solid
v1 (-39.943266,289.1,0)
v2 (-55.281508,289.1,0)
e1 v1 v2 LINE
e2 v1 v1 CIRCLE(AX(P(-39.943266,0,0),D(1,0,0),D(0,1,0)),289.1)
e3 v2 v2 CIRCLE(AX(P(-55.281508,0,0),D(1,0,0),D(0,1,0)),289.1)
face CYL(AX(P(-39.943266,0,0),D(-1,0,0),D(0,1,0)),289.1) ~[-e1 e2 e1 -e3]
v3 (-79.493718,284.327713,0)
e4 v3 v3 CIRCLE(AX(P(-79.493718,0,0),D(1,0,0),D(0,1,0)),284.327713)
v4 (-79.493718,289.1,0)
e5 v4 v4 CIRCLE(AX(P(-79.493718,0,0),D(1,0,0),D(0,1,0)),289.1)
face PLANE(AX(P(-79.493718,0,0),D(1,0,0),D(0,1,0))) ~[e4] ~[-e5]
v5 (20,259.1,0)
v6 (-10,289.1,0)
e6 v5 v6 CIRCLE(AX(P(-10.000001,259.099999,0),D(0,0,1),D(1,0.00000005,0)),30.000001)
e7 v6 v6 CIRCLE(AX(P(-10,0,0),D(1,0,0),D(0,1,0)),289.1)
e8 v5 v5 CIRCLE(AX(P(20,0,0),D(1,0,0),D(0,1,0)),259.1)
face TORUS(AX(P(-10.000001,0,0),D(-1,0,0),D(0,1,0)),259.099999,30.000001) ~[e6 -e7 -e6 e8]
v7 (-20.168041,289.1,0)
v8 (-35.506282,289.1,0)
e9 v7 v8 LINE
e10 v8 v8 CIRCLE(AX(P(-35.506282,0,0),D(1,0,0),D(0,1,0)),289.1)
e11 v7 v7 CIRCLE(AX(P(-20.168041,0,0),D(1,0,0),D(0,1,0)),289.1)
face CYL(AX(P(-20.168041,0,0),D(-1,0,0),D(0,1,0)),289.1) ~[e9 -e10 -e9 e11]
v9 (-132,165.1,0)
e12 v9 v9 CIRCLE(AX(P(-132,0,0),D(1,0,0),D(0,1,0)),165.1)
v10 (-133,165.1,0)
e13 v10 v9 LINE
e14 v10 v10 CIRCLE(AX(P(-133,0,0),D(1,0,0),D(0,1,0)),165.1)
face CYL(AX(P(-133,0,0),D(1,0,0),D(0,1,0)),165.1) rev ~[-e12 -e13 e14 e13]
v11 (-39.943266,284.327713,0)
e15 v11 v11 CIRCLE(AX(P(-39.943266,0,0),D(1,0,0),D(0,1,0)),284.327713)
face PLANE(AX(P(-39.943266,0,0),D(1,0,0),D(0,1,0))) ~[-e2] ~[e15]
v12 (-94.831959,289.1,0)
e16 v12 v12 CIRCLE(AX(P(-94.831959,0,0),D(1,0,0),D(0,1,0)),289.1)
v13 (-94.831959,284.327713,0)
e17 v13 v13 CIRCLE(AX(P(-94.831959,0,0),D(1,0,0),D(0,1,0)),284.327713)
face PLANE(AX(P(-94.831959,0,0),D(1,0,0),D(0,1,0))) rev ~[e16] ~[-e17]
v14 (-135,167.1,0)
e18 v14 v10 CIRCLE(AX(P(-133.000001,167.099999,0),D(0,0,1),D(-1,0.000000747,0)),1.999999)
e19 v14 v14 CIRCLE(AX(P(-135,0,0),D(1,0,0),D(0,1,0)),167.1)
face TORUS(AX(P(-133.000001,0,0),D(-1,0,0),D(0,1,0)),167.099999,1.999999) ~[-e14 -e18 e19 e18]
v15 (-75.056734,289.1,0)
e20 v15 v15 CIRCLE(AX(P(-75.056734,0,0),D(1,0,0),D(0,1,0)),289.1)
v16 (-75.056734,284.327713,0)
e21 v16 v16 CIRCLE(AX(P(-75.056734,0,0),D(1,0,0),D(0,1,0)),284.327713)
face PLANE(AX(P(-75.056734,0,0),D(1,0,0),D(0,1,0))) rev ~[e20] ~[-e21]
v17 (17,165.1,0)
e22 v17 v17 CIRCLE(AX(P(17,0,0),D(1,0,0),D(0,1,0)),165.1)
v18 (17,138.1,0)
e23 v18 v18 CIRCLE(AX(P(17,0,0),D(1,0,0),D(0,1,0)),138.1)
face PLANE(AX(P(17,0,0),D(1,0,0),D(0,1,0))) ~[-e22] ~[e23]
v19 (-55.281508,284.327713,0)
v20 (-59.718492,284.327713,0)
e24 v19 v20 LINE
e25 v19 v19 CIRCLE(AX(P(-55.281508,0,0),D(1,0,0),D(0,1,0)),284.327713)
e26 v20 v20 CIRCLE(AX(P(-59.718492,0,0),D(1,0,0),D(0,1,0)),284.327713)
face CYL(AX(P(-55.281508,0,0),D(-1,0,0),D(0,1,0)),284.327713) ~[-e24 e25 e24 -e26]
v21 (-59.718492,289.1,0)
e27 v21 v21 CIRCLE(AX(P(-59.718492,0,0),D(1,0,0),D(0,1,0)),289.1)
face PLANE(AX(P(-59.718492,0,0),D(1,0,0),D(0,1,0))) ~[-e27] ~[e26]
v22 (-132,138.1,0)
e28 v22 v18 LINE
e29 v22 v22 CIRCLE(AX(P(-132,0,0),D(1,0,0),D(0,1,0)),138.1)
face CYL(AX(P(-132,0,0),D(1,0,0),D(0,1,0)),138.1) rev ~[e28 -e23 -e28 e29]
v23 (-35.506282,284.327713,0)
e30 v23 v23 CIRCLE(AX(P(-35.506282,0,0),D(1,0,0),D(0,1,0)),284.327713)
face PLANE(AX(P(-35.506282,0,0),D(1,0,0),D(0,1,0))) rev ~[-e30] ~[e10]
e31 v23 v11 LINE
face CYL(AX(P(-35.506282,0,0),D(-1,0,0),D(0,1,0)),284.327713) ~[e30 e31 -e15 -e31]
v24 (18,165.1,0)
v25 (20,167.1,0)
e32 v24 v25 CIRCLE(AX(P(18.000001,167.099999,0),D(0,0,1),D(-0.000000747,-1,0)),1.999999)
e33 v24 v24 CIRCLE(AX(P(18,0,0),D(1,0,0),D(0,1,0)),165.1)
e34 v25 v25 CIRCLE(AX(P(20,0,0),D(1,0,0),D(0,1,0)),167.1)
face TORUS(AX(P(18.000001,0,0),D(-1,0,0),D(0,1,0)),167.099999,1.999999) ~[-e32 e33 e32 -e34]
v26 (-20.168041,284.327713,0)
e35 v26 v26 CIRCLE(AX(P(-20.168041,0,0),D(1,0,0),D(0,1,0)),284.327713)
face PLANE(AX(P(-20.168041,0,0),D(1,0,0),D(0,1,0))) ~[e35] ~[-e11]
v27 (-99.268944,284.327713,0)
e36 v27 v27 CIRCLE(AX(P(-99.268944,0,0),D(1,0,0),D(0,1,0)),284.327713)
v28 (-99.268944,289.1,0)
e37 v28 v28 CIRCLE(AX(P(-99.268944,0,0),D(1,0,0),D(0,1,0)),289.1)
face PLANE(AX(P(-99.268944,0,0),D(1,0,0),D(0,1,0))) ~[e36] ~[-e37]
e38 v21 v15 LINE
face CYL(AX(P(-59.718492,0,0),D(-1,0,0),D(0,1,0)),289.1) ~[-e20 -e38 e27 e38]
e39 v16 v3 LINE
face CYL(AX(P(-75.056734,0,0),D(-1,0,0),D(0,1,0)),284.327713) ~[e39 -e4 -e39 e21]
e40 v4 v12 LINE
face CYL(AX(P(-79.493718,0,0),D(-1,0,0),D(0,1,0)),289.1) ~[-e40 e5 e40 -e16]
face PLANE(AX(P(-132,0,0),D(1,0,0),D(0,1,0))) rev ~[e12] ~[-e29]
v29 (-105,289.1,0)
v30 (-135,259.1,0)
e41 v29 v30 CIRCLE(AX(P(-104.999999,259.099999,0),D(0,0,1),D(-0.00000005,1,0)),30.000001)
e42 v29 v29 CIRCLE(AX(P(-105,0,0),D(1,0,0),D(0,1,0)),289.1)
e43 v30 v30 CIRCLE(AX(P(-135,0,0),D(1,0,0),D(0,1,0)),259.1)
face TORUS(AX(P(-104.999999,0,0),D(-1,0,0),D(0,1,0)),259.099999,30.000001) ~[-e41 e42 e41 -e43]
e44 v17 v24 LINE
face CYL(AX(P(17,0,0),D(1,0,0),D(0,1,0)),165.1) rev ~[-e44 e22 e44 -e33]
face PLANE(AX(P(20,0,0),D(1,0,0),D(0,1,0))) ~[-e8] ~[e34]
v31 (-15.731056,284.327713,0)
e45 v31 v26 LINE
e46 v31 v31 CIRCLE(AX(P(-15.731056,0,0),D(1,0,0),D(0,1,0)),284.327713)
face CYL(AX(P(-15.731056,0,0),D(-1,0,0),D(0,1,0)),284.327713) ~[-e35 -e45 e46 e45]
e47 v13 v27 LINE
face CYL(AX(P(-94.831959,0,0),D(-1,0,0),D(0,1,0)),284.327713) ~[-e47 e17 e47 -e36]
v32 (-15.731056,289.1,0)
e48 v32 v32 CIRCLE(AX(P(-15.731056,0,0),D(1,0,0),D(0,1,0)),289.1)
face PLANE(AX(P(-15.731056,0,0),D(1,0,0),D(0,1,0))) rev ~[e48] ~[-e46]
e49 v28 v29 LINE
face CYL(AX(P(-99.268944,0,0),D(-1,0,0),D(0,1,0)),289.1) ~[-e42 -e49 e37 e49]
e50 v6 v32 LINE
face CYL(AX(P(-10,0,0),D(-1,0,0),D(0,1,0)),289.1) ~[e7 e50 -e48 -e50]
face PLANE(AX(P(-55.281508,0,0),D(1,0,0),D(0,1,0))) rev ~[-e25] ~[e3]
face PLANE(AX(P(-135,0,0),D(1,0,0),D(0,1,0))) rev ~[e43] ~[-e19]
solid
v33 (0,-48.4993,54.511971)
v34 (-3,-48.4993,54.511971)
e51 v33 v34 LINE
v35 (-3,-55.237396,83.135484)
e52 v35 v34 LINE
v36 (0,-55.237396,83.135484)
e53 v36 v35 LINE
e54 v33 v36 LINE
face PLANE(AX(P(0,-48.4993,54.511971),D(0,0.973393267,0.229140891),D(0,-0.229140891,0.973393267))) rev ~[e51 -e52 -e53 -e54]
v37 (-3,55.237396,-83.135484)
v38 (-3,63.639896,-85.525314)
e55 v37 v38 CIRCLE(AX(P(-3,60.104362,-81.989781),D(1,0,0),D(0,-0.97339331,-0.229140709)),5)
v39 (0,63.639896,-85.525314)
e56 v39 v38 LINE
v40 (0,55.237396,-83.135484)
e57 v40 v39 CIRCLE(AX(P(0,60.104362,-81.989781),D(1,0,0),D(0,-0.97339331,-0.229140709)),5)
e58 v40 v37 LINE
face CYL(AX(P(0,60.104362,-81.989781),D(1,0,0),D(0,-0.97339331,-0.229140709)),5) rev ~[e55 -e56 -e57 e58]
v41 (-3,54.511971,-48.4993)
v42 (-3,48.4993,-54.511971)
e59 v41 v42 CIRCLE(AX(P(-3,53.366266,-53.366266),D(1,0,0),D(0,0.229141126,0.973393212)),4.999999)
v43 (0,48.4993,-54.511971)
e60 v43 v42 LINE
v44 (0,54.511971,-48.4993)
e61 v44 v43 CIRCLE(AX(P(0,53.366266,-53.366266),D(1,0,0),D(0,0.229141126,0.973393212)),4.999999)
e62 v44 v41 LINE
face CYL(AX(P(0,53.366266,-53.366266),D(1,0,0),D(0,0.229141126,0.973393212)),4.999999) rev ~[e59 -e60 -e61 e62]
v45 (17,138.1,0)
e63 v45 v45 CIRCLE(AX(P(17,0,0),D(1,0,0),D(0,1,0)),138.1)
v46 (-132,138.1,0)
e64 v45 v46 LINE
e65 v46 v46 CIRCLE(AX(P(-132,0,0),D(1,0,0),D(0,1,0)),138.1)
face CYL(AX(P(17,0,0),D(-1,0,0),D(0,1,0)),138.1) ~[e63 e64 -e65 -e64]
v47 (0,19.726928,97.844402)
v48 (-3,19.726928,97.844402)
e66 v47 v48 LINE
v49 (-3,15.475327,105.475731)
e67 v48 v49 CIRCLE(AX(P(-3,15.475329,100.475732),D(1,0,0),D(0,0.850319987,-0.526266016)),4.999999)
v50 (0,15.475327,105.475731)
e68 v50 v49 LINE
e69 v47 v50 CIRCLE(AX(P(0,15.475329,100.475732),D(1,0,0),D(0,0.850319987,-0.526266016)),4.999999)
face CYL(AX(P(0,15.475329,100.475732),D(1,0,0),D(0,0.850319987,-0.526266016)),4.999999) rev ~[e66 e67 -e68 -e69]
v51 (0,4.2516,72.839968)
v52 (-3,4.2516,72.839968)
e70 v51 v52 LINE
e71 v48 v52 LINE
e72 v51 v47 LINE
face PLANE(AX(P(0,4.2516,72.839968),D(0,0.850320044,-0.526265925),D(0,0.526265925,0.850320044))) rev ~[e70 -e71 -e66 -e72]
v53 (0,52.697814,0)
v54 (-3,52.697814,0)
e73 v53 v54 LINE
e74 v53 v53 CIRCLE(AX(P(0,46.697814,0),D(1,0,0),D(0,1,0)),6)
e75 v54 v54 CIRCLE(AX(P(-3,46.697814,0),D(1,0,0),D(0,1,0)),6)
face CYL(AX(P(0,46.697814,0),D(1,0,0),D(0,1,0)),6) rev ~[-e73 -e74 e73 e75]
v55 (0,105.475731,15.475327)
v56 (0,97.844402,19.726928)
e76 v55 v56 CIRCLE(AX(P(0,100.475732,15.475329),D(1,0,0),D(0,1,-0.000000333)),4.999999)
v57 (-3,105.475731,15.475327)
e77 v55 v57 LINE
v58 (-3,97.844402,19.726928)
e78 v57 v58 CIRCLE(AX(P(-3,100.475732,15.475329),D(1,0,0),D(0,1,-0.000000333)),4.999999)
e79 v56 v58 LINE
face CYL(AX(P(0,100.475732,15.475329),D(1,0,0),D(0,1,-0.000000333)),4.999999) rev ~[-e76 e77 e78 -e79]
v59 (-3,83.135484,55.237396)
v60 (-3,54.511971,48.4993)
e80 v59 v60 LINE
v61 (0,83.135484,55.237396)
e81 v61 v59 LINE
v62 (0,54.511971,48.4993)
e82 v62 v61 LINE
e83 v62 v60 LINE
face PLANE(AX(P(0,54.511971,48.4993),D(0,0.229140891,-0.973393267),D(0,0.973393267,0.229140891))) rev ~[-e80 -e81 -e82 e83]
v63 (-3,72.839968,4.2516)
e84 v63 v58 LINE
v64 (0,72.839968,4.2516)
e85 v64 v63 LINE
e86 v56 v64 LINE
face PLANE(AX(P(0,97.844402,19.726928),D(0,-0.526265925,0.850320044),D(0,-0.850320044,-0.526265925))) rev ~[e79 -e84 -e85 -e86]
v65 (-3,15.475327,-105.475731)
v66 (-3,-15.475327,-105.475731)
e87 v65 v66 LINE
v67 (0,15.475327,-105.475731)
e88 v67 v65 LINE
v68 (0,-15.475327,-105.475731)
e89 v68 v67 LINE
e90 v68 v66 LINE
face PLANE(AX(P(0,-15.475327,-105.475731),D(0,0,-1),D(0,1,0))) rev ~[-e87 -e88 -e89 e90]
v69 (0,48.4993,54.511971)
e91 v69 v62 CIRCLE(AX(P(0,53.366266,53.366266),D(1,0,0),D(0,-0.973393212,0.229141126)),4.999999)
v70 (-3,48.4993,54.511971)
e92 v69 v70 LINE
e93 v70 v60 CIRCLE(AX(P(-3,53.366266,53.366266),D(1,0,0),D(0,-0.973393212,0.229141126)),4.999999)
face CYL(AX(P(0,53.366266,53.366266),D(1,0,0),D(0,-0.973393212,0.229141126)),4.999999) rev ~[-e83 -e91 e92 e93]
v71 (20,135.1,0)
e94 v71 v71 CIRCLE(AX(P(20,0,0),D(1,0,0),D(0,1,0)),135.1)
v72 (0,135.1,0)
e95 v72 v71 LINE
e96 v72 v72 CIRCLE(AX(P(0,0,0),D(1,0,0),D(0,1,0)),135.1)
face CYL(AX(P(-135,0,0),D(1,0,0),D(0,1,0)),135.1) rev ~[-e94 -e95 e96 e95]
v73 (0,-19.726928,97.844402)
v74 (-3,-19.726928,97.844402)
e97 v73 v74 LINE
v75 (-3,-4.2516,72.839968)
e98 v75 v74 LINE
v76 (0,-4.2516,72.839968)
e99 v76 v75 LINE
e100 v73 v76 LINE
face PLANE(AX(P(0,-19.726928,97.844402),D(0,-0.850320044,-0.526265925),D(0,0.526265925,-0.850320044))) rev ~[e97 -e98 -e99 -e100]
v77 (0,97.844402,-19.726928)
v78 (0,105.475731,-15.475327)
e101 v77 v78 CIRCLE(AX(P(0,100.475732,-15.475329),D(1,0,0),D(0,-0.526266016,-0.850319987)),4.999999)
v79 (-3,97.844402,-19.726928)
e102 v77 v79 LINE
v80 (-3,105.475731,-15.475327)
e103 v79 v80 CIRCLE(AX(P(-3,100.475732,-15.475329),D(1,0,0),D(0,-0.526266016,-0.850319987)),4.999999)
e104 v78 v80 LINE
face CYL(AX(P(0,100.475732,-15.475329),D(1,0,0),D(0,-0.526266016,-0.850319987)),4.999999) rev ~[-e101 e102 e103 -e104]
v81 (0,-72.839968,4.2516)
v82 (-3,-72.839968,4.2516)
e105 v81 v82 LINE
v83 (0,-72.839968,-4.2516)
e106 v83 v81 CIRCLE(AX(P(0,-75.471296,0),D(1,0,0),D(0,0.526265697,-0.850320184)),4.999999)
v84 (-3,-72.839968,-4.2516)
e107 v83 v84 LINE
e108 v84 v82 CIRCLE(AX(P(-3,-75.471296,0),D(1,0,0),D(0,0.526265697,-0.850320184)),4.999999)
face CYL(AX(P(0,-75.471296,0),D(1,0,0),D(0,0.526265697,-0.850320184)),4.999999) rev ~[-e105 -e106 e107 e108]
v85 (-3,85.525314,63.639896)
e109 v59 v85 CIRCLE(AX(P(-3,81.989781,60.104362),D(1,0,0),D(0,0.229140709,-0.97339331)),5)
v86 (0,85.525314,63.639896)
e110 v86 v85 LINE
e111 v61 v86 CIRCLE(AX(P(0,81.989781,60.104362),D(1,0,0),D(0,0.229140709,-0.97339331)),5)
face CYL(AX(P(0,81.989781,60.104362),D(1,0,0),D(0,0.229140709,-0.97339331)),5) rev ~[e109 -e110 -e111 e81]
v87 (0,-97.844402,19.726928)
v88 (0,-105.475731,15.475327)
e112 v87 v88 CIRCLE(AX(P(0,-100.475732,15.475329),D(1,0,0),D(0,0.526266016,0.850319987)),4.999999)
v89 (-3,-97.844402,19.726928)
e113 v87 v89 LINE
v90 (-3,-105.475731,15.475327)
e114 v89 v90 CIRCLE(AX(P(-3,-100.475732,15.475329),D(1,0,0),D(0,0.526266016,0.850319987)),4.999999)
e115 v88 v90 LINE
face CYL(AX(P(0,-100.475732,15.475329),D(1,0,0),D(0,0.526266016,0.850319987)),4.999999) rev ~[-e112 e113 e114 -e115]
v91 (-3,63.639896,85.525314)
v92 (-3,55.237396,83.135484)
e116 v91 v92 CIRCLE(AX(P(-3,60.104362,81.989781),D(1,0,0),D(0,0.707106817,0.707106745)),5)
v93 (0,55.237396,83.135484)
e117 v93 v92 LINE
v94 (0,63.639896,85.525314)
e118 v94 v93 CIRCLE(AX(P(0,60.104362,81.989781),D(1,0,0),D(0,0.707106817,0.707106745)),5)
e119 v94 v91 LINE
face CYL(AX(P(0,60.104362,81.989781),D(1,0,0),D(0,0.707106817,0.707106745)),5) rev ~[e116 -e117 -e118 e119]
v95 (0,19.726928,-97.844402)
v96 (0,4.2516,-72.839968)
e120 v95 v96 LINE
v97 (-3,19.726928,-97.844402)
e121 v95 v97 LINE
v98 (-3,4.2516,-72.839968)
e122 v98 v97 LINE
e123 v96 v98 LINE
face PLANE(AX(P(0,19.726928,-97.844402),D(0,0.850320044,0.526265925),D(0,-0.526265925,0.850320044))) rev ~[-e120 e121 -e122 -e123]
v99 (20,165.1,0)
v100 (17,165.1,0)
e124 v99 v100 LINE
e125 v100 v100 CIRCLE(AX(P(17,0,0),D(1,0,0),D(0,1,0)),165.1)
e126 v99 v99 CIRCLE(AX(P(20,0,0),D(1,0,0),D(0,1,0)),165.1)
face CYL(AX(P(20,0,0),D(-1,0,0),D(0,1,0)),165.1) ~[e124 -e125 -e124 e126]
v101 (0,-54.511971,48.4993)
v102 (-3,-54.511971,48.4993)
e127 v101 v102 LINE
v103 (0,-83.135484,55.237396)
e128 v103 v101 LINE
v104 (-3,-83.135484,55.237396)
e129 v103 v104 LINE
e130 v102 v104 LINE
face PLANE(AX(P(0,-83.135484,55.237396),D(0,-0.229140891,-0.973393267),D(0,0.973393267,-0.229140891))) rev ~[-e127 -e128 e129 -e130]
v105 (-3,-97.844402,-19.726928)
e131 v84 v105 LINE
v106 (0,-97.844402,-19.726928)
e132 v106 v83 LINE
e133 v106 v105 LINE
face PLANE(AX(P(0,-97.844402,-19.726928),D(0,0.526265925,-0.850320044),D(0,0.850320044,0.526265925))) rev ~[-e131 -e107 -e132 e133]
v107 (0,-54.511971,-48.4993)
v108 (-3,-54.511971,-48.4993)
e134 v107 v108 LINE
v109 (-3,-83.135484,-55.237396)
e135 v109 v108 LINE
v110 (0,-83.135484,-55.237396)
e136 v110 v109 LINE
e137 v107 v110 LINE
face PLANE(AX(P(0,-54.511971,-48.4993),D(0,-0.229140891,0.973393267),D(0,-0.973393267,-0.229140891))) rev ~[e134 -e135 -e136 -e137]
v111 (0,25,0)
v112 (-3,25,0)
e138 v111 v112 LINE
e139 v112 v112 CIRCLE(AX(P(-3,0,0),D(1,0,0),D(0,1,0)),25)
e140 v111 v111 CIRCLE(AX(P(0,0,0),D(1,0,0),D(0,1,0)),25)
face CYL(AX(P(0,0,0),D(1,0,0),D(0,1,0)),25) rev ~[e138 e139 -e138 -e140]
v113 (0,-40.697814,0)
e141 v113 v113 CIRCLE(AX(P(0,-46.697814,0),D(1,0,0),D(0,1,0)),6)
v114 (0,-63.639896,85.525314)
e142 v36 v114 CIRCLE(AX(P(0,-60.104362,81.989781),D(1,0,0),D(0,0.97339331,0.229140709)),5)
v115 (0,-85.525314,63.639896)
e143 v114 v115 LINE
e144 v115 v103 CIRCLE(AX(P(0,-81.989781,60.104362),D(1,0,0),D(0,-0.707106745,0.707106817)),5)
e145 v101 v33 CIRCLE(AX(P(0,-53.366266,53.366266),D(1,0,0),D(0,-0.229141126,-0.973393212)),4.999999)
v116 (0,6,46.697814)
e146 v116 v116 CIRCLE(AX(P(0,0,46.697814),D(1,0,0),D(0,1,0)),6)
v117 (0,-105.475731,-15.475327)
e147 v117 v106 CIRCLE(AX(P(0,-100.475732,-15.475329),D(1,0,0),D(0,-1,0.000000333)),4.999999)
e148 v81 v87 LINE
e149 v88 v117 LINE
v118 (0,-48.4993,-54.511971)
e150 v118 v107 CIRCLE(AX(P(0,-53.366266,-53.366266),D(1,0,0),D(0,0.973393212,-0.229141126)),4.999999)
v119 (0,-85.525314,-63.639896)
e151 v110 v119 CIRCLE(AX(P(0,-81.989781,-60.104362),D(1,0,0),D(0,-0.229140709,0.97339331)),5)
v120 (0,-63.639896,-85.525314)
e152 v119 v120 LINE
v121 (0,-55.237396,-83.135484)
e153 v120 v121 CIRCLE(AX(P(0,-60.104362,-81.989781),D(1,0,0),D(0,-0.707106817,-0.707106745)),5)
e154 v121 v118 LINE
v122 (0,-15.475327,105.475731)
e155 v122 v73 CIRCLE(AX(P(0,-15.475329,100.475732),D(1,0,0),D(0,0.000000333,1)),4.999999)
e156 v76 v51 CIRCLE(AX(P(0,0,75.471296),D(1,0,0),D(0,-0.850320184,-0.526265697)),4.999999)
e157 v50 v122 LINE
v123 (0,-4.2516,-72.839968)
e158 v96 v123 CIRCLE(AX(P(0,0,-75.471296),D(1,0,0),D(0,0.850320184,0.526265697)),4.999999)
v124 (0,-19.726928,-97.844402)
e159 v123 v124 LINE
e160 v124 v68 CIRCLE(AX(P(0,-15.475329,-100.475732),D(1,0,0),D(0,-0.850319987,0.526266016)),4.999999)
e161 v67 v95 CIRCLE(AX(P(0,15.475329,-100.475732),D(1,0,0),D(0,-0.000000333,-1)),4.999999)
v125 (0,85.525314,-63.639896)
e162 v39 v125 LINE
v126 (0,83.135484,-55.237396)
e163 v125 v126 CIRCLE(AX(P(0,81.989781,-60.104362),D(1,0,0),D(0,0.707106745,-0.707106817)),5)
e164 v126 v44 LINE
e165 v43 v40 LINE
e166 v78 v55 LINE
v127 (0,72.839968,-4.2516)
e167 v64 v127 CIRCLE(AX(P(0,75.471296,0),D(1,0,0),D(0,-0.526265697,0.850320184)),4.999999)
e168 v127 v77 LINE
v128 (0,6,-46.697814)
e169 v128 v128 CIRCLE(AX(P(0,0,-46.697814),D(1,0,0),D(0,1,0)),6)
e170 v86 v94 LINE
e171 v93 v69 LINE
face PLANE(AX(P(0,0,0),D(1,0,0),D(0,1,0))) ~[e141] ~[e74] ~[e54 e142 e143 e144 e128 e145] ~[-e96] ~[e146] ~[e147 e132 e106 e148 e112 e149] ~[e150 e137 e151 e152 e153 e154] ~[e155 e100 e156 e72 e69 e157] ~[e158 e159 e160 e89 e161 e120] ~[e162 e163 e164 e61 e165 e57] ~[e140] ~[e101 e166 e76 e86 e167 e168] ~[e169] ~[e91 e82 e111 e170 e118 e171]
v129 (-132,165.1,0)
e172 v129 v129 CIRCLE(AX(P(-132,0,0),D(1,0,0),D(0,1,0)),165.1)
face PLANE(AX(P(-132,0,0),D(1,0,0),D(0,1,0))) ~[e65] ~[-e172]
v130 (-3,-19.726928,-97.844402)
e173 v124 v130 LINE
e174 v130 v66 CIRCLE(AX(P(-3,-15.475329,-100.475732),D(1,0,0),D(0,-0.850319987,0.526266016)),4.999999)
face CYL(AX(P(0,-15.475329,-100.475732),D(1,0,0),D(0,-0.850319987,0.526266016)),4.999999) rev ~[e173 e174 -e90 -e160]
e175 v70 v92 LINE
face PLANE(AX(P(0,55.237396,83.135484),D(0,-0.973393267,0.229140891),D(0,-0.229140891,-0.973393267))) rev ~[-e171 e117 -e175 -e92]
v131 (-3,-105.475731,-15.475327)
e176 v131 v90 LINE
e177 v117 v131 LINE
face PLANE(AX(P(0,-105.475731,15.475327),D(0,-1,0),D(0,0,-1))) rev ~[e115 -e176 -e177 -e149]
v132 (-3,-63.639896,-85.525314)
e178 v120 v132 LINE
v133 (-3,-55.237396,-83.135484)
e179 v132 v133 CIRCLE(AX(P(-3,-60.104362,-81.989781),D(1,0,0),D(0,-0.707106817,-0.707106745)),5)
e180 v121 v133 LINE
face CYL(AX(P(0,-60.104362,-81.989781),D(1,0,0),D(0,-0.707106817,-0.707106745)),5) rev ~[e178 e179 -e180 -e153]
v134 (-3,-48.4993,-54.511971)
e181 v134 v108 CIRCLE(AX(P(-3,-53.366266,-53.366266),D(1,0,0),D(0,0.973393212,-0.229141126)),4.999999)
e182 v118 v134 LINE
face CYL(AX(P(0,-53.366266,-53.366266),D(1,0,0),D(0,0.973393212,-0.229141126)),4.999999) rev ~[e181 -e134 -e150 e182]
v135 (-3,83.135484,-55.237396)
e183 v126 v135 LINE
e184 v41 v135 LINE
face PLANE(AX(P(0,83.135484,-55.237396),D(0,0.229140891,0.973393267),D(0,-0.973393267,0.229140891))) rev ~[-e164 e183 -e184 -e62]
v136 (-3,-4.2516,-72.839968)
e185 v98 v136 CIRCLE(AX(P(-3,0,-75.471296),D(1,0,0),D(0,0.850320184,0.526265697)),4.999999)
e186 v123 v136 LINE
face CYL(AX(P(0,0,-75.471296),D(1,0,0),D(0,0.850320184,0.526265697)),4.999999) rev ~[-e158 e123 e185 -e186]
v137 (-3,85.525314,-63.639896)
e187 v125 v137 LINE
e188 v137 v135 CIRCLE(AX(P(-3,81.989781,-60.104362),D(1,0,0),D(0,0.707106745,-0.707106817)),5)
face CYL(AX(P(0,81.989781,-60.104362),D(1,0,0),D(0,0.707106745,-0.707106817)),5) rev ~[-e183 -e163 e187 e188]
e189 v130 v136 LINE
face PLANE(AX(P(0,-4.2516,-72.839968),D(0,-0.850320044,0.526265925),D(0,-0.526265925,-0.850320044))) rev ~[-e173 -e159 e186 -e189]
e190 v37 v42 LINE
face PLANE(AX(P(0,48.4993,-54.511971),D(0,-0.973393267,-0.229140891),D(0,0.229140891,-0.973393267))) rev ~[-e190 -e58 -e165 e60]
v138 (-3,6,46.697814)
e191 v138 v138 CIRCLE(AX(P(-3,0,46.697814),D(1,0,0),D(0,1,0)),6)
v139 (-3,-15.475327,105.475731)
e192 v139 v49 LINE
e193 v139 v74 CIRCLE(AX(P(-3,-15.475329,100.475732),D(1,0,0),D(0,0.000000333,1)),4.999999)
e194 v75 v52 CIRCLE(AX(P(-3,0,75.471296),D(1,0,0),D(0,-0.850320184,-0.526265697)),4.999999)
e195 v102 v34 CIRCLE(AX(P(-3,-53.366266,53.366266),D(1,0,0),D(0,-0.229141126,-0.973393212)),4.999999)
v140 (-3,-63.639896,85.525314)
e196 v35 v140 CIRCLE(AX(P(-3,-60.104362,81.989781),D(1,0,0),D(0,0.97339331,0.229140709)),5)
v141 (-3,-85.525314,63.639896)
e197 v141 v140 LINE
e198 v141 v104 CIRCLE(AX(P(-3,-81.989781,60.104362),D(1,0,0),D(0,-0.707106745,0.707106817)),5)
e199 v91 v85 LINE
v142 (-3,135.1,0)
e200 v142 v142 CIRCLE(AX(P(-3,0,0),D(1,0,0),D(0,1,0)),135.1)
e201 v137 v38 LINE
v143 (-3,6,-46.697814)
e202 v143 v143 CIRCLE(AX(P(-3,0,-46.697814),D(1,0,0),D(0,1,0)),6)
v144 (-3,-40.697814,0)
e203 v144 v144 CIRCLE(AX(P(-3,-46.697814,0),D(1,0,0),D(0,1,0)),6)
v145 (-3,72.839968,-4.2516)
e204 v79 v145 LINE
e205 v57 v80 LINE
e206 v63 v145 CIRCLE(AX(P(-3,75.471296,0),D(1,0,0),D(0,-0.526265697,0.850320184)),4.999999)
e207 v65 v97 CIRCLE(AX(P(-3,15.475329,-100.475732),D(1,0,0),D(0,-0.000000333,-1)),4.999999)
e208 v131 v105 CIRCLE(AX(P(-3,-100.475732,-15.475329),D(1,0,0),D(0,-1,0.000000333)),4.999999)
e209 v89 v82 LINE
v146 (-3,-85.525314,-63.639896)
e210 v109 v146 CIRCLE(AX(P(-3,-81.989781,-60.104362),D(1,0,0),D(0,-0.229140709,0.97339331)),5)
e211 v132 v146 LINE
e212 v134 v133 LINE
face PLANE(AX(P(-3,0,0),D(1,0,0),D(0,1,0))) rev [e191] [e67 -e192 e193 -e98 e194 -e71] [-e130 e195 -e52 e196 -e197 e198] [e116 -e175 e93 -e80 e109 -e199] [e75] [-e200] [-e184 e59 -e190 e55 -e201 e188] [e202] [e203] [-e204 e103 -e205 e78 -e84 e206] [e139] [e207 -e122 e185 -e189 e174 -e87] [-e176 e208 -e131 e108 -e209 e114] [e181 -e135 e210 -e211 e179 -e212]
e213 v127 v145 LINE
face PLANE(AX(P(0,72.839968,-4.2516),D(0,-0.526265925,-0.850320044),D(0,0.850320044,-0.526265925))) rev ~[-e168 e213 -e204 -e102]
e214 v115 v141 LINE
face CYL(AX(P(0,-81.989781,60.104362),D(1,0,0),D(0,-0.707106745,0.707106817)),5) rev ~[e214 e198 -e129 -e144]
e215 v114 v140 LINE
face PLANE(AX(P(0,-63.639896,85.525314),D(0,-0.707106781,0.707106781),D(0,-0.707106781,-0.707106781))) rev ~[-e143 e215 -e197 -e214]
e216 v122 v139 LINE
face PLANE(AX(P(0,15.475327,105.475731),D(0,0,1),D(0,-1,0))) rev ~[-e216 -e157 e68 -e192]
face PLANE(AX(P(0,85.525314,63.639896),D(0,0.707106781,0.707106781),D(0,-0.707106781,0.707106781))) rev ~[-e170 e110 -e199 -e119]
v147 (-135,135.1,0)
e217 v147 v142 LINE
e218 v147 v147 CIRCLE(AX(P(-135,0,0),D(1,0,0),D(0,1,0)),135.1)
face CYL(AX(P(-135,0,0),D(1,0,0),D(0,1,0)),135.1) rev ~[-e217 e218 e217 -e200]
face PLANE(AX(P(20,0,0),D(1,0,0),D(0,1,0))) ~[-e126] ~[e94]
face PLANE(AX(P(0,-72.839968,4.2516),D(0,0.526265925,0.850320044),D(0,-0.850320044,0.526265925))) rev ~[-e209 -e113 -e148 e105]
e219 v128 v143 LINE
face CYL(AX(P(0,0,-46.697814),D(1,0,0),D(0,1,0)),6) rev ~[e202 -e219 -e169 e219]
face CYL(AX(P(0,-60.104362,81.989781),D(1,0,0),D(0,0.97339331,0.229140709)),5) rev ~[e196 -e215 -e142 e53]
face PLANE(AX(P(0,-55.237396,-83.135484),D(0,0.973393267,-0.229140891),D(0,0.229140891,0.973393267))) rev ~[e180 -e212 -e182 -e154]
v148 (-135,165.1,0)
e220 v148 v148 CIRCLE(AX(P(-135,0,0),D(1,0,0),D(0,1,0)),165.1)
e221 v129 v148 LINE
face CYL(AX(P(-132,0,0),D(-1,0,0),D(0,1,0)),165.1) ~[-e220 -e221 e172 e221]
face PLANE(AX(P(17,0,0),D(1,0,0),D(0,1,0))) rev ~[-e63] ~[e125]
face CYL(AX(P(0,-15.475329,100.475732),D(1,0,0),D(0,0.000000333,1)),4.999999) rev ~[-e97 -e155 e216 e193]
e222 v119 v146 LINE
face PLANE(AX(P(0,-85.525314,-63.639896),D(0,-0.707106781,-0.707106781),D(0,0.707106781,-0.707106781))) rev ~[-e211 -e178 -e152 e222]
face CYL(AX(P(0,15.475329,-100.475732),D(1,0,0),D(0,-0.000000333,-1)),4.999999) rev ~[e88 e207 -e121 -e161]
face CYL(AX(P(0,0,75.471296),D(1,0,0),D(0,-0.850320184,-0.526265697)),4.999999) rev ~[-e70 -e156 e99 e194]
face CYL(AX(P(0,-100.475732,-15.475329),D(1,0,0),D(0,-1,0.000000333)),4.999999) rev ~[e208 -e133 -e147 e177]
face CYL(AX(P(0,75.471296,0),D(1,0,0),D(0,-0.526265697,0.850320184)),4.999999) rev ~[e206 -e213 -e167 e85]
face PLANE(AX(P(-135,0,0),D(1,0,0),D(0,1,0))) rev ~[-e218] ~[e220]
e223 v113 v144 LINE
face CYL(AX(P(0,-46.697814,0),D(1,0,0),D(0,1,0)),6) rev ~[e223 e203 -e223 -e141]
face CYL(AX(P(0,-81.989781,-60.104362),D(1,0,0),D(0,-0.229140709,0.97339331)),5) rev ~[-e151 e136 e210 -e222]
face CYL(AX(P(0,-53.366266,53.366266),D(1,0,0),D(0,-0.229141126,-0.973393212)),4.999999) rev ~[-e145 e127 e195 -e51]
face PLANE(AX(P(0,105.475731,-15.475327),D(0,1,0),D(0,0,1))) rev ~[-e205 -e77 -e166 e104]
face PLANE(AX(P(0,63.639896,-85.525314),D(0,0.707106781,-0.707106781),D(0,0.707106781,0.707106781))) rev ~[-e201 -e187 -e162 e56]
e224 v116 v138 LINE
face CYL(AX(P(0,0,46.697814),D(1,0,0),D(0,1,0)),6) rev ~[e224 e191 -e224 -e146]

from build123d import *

# Parameters (mm, degrees)
F0_W     = 3
F0_H     = 135.1
F2_R     = 25
F2_R_2   = 6
F3_DEPTH = 135.001


with BuildPart() as f1:
    # F0 (on Top) → F1 (revolve)
    with BuildSketch(Plane.XY):
        Polygon((-133, 165.1), (-135, 165.1), (-135, 135.1), (-3, 135.1), (0, 135.1), (20, 135.1), (20, 165.1), (18, 165.1), (17, 165.1), (17, 138.1), (-132, 138.1), (-132, 165.1), align=None)
        with Locations((-1.5, 67.55)):
            Rectangle(F0_W, F0_H)
    revolve(axis=Axis((1.734227, 0, 0), (1, 0, 0)))

    # F2 (on face) → F3 (cut, through all)
    with BuildSketch(Plane.YZ):
        Circle(F2_R)
        with Locations((-46.697814, 0)):
            Circle(F2_R_2)
        with Locations((0, 46.697814)):
            Circle(F2_R_2)
        with Locations((46.697814, 0)):
            Circle(F2_R_2)
        with Locations((0, -46.697814)):
            Circle(F2_R_2)
        with BuildLine():
            ThreePointArc((-4.2516, 72.839968), (0, 70.471297), (4.2516, 72.839968))
            Line((4.2516, 72.839968), (19.726928, 97.844402))
            ThreePointArc((19.726928, 97.844402), (19.843202, 102.909181), (15.475327, 105.475731))
            Line((15.475327, 105.475731), (0, 105.475731))
            Line((0, 105.475731), (-15.475327, 105.475731))
            ThreePointArc((-15.475327, 105.475731), (-19.843202, 102.909181), (-19.726928, 97.844402))
            Line((-19.726928, 97.844402), (-4.2516, 72.839968))
        make_face()
        with BuildLine():
            ThreePointArc((63.639896, 85.525314), (58.736517, 86.799042), (55.237396, 83.135484))
            Line((55.237396, 83.135484), (48.4993, 54.511971))
            ThreePointArc((48.4993, 54.511971), (49.830732, 49.830732), (54.511971, 48.4993))
            Line((54.511971, 48.4993), (83.135484, 55.237396))
            ThreePointArc((83.135484, 55.237396), (86.799042, 58.736517), (85.525314, 63.639896))
            Line((85.525314, 63.639896), (74.582605, 74.582605))
            Line((74.582605, 74.582605), (63.639896, 85.525314))
        make_face()
        with BuildLine():
            ThreePointArc((105.475731, 15.475327), (102.909181, 19.843202), (97.844402, 19.726928))
            Line((97.844402, 19.726928), (72.839968, 4.2516))
            ThreePointArc((72.839968, 4.2516), (70.471297, 0), (72.839968, -4.2516))
            Line((72.839968, -4.2516), (97.844402, -19.726928))
            ThreePointArc((97.844402, -19.726928), (102.909181, -19.843202), (105.475731, -15.475327))
            Line((105.475731, -15.475327), (105.475731, 0))
            Line((105.475731, 0), (105.475731, 15.475327))
        make_face()
        with BuildLine():
            ThreePointArc((15.475327, -105.475731), (19.843202, -102.909181), (19.726928, -97.844402))
            Line((19.726928, -97.844402), (4.2516, -72.839968))
            ThreePointArc((4.2516, -72.839968), (0, -70.471297), (-4.2516, -72.839968))
            Line((-4.2516, -72.839968), (-19.726928, -97.844402))
            ThreePointArc((-19.726928, -97.844402), (-19.843202, -102.909181), (-15.475327, -105.475731))
            Line((-15.475327, -105.475731), (0, -105.475731))
            Line((0, -105.475731), (15.475327, -105.475731))
        make_face()
        with BuildLine():
            ThreePointArc((-63.639896, -85.525314), (-58.736517, -86.799042), (-55.237396, -83.135484))
            Line((-55.237396, -83.135484), (-48.4993, -54.511971))
            ThreePointArc((-48.4993, -54.511971), (-49.830732, -49.830732), (-54.511971, -48.4993))
            Line((-54.511971, -48.4993), (-83.135484, -55.237396))
            ThreePointArc((-83.135484, -55.237396), (-86.799042, -58.736517), (-85.525314, -63.639896))
            Line((-85.525314, -63.639896), (-74.582605, -74.582605))
            Line((-74.582605, -74.582605), (-63.639896, -85.525314))
        make_face()
        with BuildLine():
            ThreePointArc((-105.475731, -15.475327), (-102.909181, -19.843202), (-97.844402, -19.726928))
            Line((-97.844402, -19.726928), (-72.839968, -4.2516))
            ThreePointArc((-72.839968, -4.2516), (-70.471297, 0), (-72.839968, 4.2516))
            Line((-72.839968, 4.2516), (-97.844402, 19.726928))
            ThreePointArc((-97.844402, 19.726928), (-102.909181, 19.843202), (-105.475731, 15.475327))
            Line((-105.475731, 15.475327), (-105.475731, 0))
            Line((-105.475731, 0), (-105.475731, -15.475327))
        make_face()
        with BuildLine():
            ThreePointArc((-85.525314, 63.639896), (-86.799042, 58.736517), (-83.135484, 55.237396))
            Line((-83.135484, 55.237396), (-54.511971, 48.4993))
            ThreePointArc((-54.511971, 48.4993), (-49.830732, 49.830732), (-48.4993, 54.511971))
            Line((-48.4993, 54.511971), (-55.237396, 83.135484))
            ThreePointArc((-55.237396, 83.135484), (-58.736517, 86.799042), (-63.639896, 85.525314))
            Line((-63.639896, 85.525314), (-74.582605, 74.582605))
            Line((-74.582605, 74.582605), (-85.525314, 63.639896))
        make_face()
        with BuildLine():
            ThreePointArc((85.525314, -63.639896), (86.799042, -58.736517), (83.135484, -55.237396))
            Line((83.135484, -55.237396), (54.511971, -48.4993))
            ThreePointArc((54.511971, -48.4993), (49.830732, -49.830732), (48.4993, -54.511971))
            Line((48.4993, -54.511971), (55.237396, -83.135484))
            ThreePointArc((55.237396, -83.135484), (58.736517, -86.799042), (63.639896, -85.525314))
            Line((63.639896, -85.525314), (74.582605, -74.582605))
            Line((74.582605, -74.582605), (85.525314, -63.639896))
        make_face()
    extrude(amount=-F3_DEPTH, mode=Mode.SUBTRACT)


with BuildPart() as f4:
    # F0 (on Top) → F4 (revolve)
    with BuildSketch(Plane.XY):
        with BuildLine():
            ThreePointArc((-135, 167.1), (-134.414214, 165.685786), (-133, 165.1))
            Line((-133, 165.1), (-132, 165.1))
            Line((-132, 165.1), (-132, 138.1))
            Line((-132, 138.1), (17, 138.1))
            Line((17, 138.1), (17, 165.1))
            Line((17, 165.1), (18, 165.1))
            ThreePointArc((18, 165.1), (19.414214, 165.685786), (20, 167.1))
            Line((20, 167.1), (20, 259.1))
            ThreePointArc((20, 259.1), (11.213203, 280.313203), (-10, 289.1))
            Line((-10, 289.1), (-15.731056, 289.1))
            Line((-15.731056, 289.1), (-15.731056, 284.327713))
            Line((-15.731056, 284.327713), (-20.168041, 284.327713))
            Line((-20.168041, 284.327713), (-20.168041, 289.1))
            Line((-20.168041, 289.1), (-35.506282, 289.1))
            Line((-35.506282, 289.1), (-35.506282, 284.327713))
            Line((-35.506282, 284.327713), (-39.943266, 284.327713))
            Line((-39.943266, 284.327713), (-39.943266, 289.1))
            Line((-39.943266, 289.1), (-55.281508, 289.1))
            Line((-55.281508, 289.1), (-55.281508, 284.327713))
            Line((-55.281508, 284.327713), (-59.718492, 284.327713))
            Line((-59.718492, 284.327713), (-59.718492, 289.1))
            Line((-59.718492, 289.1), (-75.056734, 289.1))
            Line((-75.056734, 289.1), (-75.056734, 284.327713))
            Line((-75.056734, 284.327713), (-79.493718, 284.327713))
            Line((-79.493718, 284.327713), (-79.493718, 289.1))
            Line((-79.493718, 289.1), (-94.831959, 289.1))
            Line((-94.831959, 289.1), (-94.831959, 284.327713))
            Line((-94.831959, 284.327713), (-99.268944, 284.327713))
            Line((-99.268944, 284.327713), (-99.268944, 289.1))
            Line((-99.268944, 289.1), (-105, 289.1))
            ThreePointArc((-105, 289.1), (-126.213203, 280.313203), (-135, 259.1))
            Line((-135, 259.1), (-135, 167.1))
        make_face()
    revolve(axis=Axis((1.734227, 0, 0), (1, 0, 0)))


solid = Compound([f1.part, f4.part])
